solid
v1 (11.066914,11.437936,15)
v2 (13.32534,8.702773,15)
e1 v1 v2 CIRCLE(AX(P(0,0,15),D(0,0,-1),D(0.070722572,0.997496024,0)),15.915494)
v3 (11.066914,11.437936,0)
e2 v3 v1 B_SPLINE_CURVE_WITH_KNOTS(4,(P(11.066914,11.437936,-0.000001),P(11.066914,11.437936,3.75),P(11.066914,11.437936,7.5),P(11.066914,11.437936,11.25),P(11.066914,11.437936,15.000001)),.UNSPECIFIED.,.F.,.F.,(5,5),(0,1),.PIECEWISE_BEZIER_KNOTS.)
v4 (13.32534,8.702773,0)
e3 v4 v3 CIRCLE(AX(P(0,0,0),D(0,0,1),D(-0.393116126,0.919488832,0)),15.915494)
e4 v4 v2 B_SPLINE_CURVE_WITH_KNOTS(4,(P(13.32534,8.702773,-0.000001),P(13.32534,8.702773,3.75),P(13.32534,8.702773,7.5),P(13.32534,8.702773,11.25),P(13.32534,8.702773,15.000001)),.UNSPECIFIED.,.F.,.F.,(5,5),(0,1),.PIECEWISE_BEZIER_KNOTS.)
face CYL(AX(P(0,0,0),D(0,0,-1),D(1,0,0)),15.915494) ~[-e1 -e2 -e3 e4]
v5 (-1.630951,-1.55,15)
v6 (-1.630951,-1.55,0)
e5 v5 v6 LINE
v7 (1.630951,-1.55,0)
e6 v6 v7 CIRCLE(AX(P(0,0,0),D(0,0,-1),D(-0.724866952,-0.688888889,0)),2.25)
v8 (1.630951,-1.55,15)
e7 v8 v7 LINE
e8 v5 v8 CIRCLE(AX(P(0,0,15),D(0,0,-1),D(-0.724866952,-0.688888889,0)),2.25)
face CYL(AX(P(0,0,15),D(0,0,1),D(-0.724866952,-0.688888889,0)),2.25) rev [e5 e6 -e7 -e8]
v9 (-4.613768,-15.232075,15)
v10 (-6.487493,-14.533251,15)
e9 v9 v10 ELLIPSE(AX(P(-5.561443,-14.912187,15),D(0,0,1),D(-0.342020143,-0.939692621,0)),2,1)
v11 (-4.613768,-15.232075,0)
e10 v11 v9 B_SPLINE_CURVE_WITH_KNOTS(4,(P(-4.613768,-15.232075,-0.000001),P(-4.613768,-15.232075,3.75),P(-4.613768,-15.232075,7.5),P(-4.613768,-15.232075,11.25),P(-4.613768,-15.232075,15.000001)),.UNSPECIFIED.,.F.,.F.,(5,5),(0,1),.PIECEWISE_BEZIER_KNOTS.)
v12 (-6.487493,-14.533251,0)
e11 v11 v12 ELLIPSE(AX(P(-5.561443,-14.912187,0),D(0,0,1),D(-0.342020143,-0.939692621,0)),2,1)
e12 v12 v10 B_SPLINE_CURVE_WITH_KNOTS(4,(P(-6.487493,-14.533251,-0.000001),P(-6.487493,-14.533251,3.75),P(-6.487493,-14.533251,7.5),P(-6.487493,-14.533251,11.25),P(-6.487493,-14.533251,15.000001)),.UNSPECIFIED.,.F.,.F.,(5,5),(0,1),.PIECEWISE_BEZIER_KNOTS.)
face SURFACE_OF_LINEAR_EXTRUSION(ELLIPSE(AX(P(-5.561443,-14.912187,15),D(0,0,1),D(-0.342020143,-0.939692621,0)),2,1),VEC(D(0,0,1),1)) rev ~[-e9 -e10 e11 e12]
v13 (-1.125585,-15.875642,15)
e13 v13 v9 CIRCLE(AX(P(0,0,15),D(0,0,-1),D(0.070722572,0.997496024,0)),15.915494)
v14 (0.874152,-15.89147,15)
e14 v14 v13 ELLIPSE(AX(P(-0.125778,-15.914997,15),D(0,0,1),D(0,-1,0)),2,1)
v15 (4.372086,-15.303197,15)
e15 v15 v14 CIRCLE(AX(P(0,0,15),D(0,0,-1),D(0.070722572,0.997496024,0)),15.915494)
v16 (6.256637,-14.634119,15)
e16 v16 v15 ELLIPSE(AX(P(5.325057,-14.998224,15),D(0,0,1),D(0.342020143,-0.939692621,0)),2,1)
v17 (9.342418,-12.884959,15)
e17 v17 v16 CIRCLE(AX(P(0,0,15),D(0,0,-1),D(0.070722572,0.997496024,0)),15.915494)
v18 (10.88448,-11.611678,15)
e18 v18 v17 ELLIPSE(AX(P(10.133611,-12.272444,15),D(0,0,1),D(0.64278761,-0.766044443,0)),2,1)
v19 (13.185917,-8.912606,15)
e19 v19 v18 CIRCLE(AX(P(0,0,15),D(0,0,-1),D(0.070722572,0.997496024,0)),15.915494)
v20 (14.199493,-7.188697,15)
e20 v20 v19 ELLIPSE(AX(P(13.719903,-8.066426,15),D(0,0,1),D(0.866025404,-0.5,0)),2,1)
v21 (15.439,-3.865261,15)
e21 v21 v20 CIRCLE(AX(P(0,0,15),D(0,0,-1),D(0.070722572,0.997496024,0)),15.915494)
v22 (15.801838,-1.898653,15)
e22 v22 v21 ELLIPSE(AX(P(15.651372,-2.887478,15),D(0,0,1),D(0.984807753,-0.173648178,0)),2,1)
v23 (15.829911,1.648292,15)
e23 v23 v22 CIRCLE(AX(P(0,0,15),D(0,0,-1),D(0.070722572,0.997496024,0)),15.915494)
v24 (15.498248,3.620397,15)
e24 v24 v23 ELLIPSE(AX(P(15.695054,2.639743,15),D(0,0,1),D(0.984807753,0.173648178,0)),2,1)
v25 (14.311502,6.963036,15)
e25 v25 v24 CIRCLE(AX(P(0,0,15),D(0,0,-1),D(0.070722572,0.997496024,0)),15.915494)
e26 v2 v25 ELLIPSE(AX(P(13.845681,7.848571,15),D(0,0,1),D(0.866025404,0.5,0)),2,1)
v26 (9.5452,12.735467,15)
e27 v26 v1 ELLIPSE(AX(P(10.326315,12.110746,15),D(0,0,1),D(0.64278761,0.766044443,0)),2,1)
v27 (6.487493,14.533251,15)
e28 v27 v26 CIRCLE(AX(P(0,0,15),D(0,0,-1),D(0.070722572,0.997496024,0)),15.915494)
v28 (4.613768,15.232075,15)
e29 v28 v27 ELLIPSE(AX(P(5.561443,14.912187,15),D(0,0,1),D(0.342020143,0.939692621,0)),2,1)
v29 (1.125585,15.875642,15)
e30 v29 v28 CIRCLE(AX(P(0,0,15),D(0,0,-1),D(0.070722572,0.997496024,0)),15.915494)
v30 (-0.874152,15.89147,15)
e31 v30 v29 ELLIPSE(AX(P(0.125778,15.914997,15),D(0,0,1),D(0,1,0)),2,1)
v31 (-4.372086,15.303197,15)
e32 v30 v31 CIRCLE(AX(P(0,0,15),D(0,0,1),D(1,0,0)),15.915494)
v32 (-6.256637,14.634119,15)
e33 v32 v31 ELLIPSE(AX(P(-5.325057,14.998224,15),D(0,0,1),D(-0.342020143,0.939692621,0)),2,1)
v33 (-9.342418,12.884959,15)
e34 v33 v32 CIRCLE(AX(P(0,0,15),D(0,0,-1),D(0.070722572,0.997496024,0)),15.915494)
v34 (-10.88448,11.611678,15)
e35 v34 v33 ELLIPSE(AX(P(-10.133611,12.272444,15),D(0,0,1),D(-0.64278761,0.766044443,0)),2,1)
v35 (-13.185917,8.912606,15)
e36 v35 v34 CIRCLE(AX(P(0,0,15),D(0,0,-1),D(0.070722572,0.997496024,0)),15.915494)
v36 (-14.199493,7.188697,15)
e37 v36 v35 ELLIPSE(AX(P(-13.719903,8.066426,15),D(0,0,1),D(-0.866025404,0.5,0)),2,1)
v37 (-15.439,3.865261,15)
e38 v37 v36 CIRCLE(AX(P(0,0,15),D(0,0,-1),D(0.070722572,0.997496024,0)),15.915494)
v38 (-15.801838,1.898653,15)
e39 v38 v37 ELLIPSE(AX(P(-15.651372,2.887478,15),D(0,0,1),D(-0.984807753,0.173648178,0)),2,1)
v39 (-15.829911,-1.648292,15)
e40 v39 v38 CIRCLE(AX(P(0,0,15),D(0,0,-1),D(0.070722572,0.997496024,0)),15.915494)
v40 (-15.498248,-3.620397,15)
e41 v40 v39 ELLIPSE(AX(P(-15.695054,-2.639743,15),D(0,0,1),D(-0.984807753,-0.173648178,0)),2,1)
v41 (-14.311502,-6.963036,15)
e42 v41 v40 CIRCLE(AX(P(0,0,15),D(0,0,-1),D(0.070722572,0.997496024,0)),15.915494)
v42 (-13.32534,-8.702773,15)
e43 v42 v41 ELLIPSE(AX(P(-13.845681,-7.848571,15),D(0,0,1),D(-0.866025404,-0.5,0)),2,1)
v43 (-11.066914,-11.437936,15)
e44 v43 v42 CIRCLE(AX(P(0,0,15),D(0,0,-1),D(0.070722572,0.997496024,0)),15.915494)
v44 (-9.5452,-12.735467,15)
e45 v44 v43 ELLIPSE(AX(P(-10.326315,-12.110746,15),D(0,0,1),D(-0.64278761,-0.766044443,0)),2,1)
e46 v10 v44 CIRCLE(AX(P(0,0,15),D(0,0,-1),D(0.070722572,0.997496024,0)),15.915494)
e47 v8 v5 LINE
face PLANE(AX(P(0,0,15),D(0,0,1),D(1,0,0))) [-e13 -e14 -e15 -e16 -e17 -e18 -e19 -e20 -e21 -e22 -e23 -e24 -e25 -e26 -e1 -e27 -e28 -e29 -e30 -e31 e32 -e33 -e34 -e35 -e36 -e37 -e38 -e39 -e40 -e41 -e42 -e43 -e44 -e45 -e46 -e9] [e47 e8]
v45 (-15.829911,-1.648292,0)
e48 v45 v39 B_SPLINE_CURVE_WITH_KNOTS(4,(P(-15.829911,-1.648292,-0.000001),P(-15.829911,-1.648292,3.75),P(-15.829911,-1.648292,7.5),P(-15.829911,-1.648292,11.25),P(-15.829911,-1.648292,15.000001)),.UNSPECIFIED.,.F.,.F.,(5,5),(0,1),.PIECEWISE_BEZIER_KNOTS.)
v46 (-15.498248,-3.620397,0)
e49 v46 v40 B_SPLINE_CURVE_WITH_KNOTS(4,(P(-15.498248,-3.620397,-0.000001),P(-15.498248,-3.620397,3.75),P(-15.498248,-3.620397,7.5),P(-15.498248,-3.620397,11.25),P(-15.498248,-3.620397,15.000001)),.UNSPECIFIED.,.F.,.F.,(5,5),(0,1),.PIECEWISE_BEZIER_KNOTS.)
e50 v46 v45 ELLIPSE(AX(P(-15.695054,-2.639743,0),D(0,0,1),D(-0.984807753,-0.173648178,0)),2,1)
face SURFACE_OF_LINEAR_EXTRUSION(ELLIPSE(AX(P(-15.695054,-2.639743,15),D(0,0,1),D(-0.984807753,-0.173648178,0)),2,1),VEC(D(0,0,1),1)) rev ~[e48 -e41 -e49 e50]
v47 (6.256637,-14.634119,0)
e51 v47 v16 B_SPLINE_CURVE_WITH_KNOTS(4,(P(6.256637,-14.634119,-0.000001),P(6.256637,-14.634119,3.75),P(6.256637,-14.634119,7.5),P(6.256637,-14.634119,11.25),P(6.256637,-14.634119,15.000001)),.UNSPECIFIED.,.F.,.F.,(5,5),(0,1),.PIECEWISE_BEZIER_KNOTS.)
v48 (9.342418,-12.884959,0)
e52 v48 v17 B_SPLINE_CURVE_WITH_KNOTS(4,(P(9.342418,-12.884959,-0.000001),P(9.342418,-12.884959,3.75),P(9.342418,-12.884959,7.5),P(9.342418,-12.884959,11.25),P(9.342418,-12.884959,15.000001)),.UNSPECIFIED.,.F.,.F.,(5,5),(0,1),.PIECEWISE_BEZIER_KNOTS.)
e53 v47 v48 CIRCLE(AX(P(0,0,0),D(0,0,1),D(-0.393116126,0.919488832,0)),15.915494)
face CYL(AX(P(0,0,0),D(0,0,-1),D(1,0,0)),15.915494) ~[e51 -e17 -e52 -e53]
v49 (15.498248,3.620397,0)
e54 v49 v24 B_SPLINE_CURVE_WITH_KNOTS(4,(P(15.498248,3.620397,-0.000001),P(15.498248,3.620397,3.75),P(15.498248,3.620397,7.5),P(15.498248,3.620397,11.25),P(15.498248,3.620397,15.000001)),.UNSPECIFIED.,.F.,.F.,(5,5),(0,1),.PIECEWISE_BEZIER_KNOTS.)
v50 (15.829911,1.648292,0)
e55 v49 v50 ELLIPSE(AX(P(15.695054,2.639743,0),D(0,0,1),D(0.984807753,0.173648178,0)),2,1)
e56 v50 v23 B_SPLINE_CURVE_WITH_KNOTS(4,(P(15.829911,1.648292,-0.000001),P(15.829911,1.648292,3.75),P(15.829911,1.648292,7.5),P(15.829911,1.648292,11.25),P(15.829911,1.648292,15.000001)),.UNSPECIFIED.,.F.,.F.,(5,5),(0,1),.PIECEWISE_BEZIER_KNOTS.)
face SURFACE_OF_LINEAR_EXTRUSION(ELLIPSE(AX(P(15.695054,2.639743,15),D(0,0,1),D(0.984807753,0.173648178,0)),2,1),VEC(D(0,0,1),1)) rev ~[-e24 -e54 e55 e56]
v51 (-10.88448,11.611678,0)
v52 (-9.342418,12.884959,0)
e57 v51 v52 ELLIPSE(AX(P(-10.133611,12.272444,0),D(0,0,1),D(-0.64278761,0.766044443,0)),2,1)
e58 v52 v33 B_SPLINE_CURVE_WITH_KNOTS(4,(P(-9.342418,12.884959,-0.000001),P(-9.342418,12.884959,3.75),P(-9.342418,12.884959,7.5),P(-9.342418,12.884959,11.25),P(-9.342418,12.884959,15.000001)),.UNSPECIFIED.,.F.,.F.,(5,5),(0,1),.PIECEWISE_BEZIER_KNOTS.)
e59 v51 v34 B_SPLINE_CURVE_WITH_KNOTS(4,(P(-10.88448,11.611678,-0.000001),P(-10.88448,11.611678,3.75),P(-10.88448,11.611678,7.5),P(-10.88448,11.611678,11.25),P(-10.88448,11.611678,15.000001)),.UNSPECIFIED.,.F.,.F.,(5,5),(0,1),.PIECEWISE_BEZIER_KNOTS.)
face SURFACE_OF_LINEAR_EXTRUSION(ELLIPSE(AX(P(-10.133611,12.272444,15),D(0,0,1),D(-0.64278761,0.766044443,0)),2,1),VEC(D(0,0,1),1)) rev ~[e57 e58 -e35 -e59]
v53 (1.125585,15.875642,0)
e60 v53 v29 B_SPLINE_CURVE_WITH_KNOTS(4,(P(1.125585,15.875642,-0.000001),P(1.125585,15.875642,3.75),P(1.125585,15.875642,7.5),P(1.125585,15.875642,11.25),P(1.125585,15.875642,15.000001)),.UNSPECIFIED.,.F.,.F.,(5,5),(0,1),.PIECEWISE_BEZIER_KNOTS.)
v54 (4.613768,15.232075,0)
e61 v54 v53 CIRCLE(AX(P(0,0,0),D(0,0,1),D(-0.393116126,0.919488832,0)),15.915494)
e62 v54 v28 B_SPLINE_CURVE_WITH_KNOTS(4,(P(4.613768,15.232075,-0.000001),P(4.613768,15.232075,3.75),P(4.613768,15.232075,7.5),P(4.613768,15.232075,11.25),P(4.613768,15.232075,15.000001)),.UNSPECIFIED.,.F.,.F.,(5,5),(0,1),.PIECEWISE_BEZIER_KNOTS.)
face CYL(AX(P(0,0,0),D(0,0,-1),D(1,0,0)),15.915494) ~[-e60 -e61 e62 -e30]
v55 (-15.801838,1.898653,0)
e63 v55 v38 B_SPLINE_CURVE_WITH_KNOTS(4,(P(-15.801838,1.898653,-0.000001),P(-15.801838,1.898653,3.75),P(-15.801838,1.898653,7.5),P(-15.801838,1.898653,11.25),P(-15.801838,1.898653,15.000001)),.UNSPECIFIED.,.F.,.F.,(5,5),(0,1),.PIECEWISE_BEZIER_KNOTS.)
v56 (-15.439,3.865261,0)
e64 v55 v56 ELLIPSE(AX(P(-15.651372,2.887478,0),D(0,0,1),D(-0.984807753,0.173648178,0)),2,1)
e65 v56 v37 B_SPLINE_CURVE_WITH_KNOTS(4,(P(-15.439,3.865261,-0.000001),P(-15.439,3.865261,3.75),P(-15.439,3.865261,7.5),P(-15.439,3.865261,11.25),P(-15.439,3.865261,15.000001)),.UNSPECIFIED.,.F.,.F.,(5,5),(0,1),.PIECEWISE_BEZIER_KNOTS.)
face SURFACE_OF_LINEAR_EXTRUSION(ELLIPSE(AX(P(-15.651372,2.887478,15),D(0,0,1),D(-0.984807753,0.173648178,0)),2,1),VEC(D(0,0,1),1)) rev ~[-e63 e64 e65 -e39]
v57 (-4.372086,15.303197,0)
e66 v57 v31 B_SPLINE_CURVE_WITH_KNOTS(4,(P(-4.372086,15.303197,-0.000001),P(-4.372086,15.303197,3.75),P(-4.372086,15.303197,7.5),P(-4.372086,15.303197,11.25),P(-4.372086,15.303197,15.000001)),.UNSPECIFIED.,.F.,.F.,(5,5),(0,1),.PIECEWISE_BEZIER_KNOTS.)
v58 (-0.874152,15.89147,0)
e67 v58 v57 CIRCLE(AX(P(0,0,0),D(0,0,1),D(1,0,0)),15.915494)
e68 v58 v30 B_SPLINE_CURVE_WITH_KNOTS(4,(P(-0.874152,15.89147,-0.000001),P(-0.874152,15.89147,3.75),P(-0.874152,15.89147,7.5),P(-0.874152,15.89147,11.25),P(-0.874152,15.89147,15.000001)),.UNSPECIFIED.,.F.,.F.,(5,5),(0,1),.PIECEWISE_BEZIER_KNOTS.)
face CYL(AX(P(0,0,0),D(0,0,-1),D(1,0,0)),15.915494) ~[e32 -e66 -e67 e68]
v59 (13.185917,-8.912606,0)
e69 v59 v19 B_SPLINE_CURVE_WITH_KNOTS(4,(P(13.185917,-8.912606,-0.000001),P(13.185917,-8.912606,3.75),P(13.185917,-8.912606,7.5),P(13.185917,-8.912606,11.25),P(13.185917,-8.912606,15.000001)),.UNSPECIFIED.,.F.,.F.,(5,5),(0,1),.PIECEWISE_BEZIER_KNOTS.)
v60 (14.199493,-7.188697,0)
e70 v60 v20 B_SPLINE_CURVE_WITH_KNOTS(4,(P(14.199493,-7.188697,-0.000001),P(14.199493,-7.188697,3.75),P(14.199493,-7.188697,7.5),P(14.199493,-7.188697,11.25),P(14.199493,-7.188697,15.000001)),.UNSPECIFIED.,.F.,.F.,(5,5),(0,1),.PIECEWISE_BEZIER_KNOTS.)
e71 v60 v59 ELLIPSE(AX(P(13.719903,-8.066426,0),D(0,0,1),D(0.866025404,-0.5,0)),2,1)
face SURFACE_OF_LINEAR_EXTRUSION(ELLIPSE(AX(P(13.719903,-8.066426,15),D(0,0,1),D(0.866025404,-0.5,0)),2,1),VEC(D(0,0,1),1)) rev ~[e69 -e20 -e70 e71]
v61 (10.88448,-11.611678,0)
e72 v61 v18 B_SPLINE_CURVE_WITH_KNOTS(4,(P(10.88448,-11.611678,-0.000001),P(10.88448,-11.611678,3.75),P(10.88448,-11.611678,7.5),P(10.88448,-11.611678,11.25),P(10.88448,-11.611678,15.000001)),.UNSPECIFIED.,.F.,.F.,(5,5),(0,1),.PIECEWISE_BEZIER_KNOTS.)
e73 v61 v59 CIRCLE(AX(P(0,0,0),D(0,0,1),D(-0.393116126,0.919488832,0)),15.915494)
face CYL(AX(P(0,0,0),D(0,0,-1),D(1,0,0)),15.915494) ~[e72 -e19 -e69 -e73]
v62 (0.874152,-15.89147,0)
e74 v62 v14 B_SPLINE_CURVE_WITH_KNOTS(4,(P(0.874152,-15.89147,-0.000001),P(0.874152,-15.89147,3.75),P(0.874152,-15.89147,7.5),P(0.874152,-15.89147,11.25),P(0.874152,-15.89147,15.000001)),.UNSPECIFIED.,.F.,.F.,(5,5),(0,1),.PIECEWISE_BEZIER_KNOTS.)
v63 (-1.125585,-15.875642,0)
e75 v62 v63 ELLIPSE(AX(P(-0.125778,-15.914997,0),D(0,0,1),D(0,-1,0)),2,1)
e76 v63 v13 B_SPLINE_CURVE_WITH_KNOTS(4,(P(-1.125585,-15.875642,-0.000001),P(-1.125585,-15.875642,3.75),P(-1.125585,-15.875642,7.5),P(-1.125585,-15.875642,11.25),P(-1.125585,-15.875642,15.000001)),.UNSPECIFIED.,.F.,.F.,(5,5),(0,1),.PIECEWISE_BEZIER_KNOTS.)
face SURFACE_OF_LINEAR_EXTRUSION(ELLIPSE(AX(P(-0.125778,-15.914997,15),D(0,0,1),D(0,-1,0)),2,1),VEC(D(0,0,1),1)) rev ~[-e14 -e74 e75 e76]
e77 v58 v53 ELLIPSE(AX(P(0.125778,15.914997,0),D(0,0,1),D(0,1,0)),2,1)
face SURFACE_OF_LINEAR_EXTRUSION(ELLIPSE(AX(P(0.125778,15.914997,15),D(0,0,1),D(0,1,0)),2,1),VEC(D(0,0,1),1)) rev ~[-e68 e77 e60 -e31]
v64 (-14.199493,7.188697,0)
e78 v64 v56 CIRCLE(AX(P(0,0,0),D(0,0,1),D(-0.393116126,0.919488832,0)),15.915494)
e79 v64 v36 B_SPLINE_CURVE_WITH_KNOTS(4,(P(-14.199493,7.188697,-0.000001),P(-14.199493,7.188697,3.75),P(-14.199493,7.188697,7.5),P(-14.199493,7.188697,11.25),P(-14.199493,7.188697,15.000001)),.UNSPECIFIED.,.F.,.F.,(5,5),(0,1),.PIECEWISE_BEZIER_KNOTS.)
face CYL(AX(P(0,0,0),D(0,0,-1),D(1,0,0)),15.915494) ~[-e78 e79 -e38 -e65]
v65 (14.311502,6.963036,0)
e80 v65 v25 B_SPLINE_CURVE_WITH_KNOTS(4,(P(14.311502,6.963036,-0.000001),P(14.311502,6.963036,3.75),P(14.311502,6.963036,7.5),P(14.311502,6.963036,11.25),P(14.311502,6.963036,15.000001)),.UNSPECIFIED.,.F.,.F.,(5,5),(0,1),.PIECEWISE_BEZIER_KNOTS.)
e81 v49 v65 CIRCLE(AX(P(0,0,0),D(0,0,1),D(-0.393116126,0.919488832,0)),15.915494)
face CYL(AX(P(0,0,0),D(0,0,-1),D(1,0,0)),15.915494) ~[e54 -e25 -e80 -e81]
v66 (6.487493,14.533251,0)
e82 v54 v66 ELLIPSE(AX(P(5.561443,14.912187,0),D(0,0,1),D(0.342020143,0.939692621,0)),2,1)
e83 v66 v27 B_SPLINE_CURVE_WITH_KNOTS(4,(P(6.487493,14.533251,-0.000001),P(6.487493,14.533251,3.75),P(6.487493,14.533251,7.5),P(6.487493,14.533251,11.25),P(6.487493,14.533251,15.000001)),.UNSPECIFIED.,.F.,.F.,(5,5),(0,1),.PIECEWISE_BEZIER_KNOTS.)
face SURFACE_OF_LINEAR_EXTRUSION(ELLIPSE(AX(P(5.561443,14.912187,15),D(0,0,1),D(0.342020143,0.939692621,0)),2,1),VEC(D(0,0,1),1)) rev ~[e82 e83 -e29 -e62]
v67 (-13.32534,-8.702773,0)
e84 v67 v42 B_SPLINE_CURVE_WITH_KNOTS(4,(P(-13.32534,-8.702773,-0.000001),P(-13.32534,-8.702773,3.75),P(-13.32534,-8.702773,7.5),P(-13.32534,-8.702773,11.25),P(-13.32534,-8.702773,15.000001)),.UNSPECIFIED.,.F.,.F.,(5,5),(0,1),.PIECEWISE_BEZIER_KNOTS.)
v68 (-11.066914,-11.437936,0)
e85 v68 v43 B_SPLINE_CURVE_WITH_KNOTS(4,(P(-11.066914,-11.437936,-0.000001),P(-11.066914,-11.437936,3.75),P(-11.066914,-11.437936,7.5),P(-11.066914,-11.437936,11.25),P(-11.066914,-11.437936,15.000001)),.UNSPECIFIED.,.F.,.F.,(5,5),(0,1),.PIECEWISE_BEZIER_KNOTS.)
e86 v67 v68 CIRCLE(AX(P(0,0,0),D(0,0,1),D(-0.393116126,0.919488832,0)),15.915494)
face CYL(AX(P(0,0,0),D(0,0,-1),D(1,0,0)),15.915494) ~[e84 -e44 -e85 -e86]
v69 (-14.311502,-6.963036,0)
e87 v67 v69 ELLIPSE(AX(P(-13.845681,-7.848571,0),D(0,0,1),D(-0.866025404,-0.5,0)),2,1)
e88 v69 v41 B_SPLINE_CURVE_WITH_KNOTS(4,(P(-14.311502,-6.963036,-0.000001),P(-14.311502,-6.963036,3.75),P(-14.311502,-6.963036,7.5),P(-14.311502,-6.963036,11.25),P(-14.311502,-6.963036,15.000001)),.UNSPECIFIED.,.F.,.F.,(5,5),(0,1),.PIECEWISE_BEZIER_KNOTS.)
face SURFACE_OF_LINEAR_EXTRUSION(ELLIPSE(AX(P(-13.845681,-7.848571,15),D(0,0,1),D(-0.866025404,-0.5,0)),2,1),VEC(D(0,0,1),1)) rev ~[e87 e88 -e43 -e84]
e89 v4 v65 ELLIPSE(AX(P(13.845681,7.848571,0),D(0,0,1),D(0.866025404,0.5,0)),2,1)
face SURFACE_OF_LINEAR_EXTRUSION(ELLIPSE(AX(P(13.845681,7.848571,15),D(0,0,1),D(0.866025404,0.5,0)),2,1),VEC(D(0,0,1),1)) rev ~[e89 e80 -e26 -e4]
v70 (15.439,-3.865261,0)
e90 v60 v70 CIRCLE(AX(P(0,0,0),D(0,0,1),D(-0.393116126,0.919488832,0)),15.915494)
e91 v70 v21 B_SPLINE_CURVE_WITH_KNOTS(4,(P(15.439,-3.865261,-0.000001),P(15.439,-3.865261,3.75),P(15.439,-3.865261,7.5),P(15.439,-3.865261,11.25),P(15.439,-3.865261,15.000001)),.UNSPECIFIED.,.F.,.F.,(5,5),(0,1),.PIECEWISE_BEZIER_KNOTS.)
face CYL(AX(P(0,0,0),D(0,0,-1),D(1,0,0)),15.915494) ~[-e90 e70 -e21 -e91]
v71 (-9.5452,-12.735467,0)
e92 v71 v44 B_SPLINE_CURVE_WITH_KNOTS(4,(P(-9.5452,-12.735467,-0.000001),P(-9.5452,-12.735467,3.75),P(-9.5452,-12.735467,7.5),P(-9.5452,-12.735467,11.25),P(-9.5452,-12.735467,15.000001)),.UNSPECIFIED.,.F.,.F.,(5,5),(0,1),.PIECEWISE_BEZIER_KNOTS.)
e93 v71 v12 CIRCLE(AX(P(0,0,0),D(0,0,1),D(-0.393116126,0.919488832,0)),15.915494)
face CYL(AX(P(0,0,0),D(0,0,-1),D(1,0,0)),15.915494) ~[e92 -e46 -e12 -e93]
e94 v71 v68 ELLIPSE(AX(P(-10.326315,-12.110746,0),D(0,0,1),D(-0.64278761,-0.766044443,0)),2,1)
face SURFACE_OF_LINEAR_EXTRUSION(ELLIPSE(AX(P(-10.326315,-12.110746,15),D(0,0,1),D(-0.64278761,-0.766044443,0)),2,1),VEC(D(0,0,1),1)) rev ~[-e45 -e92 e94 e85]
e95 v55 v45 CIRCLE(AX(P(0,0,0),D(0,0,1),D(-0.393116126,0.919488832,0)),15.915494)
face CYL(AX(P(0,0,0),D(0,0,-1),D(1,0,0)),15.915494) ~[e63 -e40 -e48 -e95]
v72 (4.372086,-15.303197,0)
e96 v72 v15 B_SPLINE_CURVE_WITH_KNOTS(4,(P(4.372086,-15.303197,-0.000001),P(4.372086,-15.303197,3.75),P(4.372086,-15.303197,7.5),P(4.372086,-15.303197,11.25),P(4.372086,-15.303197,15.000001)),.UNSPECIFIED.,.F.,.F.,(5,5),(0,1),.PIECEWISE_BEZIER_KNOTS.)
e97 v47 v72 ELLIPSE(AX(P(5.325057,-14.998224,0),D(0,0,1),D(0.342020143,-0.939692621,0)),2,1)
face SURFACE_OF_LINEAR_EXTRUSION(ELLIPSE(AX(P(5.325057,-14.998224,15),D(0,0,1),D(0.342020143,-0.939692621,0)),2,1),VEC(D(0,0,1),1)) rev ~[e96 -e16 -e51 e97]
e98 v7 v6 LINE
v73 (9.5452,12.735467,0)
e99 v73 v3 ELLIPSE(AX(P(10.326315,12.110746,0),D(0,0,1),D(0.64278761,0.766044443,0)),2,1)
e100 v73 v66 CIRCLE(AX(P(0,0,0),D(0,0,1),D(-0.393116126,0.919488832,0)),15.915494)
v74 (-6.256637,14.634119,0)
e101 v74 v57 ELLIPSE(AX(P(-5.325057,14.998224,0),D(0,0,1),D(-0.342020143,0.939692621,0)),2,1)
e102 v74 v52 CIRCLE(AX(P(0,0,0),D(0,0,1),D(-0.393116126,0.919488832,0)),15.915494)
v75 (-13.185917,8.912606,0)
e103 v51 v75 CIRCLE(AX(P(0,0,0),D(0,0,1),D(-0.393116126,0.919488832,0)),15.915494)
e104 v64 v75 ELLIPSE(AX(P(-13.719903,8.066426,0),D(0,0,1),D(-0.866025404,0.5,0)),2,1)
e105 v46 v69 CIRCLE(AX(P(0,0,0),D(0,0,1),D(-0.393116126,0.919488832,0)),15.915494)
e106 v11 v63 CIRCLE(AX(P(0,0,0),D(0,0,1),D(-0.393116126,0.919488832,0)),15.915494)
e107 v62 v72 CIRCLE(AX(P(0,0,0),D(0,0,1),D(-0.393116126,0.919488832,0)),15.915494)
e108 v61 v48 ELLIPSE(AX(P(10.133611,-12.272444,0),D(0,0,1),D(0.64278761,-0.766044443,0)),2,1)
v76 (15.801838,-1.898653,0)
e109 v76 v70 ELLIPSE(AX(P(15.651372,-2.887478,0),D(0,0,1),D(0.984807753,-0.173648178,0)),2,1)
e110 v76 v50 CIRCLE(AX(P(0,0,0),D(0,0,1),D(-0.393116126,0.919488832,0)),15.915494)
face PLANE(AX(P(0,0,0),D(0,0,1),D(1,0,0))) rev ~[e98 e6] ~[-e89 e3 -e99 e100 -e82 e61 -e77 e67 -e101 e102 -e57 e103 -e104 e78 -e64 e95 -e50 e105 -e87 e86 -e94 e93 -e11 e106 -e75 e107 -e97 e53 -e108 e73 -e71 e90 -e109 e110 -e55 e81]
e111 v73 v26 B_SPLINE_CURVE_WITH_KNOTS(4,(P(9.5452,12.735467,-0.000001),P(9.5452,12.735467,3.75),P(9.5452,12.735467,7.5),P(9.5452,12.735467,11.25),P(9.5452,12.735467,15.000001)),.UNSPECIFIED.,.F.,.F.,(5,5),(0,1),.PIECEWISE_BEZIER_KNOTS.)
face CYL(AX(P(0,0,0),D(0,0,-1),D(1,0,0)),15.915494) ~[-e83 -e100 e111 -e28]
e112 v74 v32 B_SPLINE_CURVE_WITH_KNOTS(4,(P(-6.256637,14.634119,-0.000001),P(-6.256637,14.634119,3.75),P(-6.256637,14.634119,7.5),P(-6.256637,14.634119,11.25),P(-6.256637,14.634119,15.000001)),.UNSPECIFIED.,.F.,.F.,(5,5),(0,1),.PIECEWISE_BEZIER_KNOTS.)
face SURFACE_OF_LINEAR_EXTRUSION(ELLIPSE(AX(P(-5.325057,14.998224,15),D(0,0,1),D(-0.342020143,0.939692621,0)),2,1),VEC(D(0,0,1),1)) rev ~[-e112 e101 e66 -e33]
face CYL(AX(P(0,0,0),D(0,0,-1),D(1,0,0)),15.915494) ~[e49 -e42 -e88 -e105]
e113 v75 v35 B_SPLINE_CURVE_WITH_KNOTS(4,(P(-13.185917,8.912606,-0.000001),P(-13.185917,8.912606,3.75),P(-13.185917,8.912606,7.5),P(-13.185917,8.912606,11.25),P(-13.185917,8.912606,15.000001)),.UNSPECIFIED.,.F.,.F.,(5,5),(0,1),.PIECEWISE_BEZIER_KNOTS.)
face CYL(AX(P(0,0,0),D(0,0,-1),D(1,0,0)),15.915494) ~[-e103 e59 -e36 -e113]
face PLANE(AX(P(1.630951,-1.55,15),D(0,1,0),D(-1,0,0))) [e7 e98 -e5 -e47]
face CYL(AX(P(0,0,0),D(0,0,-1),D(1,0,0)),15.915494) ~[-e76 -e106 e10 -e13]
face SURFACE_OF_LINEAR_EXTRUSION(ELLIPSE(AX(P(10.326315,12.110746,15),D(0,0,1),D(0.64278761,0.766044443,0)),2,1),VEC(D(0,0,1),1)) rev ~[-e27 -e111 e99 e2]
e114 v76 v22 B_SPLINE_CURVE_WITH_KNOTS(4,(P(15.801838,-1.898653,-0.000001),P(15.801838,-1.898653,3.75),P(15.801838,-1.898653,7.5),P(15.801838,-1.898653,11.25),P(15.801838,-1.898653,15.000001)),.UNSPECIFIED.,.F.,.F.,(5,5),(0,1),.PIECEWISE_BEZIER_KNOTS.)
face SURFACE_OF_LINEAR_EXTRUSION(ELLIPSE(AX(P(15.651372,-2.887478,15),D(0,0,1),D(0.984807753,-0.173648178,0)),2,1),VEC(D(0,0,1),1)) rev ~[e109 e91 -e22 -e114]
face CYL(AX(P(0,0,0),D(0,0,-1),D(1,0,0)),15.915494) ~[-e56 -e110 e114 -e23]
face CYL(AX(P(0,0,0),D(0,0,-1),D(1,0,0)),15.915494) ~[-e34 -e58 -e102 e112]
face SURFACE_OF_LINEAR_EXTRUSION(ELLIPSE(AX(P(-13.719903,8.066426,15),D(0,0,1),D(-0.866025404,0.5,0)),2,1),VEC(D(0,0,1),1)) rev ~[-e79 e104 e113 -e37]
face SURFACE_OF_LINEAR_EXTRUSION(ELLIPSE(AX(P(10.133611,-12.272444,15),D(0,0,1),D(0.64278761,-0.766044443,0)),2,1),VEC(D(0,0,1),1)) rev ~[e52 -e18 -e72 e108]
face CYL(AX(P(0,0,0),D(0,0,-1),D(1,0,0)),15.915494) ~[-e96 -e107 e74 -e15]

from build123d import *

# Parameters (mm, degrees)
SKETCH_1_R               = 15.91549431
EXTRUDE_1_DEPTH          = 15
CUT_EXTRUDE_1_DEPTH      = 15
SKETCH_3_RX              = 2
SKETCH_3_RY              = 1
CUT_EXTRUDE_2_DEPTH      = 15
PATTERN_CIRCULAR_1_COUNT = 18


with BuildPart() as part:
    # Эскиз1 → Бобышка-Вытянуть1 (new body)
    with BuildSketch(Plane.XY):
        Circle(SKETCH_1_R)
    extrude(amount=EXTRUDE_1_DEPTH)

    # Эскиз2 → Вырез-Вытянуть1 (cut)
    with BuildSketch(Plane.XY.offset(15)):
        with BuildLine():
            Line((1.630950643, -1.55), (-1.630950643, -1.55))
            ThreePointArc((-1.630950643, -1.55), (0, 2.25), (1.630950643, -1.55))
        make_face()
    extrude(amount=-CUT_EXTRUDE_1_DEPTH, mode=Mode.SUBTRACT)

    # Эскиз3 → Вырез-Вытянуть2 (cut)
    with BuildSketch(Plane.XY.offset(15)):
        with Locations(Location((0.125778317, 15.914997296), (0, 0, 90))):
            Ellipse(SKETCH_3_RX, SKETCH_3_RY)
    cut_extrude_2 = extrude(amount=-CUT_EXTRUDE_2_DEPTH, mode=Mode.SUBTRACT)

    # Круговой массив1: Вырез-Вытянуть2 ×18 about axis
    pattern_circular_1_axis = Axis((0, 0, 15), (0, 0, 1))
    for i in range(1, PATTERN_CIRCULAR_1_COUNT):
        add(cut_extrude_2.rotate(pattern_circular_1_axis, i * 360 / PATTERN_CIRCULAR_1_COUNT), mode=Mode.SUBTRACT)


solid = part.part
